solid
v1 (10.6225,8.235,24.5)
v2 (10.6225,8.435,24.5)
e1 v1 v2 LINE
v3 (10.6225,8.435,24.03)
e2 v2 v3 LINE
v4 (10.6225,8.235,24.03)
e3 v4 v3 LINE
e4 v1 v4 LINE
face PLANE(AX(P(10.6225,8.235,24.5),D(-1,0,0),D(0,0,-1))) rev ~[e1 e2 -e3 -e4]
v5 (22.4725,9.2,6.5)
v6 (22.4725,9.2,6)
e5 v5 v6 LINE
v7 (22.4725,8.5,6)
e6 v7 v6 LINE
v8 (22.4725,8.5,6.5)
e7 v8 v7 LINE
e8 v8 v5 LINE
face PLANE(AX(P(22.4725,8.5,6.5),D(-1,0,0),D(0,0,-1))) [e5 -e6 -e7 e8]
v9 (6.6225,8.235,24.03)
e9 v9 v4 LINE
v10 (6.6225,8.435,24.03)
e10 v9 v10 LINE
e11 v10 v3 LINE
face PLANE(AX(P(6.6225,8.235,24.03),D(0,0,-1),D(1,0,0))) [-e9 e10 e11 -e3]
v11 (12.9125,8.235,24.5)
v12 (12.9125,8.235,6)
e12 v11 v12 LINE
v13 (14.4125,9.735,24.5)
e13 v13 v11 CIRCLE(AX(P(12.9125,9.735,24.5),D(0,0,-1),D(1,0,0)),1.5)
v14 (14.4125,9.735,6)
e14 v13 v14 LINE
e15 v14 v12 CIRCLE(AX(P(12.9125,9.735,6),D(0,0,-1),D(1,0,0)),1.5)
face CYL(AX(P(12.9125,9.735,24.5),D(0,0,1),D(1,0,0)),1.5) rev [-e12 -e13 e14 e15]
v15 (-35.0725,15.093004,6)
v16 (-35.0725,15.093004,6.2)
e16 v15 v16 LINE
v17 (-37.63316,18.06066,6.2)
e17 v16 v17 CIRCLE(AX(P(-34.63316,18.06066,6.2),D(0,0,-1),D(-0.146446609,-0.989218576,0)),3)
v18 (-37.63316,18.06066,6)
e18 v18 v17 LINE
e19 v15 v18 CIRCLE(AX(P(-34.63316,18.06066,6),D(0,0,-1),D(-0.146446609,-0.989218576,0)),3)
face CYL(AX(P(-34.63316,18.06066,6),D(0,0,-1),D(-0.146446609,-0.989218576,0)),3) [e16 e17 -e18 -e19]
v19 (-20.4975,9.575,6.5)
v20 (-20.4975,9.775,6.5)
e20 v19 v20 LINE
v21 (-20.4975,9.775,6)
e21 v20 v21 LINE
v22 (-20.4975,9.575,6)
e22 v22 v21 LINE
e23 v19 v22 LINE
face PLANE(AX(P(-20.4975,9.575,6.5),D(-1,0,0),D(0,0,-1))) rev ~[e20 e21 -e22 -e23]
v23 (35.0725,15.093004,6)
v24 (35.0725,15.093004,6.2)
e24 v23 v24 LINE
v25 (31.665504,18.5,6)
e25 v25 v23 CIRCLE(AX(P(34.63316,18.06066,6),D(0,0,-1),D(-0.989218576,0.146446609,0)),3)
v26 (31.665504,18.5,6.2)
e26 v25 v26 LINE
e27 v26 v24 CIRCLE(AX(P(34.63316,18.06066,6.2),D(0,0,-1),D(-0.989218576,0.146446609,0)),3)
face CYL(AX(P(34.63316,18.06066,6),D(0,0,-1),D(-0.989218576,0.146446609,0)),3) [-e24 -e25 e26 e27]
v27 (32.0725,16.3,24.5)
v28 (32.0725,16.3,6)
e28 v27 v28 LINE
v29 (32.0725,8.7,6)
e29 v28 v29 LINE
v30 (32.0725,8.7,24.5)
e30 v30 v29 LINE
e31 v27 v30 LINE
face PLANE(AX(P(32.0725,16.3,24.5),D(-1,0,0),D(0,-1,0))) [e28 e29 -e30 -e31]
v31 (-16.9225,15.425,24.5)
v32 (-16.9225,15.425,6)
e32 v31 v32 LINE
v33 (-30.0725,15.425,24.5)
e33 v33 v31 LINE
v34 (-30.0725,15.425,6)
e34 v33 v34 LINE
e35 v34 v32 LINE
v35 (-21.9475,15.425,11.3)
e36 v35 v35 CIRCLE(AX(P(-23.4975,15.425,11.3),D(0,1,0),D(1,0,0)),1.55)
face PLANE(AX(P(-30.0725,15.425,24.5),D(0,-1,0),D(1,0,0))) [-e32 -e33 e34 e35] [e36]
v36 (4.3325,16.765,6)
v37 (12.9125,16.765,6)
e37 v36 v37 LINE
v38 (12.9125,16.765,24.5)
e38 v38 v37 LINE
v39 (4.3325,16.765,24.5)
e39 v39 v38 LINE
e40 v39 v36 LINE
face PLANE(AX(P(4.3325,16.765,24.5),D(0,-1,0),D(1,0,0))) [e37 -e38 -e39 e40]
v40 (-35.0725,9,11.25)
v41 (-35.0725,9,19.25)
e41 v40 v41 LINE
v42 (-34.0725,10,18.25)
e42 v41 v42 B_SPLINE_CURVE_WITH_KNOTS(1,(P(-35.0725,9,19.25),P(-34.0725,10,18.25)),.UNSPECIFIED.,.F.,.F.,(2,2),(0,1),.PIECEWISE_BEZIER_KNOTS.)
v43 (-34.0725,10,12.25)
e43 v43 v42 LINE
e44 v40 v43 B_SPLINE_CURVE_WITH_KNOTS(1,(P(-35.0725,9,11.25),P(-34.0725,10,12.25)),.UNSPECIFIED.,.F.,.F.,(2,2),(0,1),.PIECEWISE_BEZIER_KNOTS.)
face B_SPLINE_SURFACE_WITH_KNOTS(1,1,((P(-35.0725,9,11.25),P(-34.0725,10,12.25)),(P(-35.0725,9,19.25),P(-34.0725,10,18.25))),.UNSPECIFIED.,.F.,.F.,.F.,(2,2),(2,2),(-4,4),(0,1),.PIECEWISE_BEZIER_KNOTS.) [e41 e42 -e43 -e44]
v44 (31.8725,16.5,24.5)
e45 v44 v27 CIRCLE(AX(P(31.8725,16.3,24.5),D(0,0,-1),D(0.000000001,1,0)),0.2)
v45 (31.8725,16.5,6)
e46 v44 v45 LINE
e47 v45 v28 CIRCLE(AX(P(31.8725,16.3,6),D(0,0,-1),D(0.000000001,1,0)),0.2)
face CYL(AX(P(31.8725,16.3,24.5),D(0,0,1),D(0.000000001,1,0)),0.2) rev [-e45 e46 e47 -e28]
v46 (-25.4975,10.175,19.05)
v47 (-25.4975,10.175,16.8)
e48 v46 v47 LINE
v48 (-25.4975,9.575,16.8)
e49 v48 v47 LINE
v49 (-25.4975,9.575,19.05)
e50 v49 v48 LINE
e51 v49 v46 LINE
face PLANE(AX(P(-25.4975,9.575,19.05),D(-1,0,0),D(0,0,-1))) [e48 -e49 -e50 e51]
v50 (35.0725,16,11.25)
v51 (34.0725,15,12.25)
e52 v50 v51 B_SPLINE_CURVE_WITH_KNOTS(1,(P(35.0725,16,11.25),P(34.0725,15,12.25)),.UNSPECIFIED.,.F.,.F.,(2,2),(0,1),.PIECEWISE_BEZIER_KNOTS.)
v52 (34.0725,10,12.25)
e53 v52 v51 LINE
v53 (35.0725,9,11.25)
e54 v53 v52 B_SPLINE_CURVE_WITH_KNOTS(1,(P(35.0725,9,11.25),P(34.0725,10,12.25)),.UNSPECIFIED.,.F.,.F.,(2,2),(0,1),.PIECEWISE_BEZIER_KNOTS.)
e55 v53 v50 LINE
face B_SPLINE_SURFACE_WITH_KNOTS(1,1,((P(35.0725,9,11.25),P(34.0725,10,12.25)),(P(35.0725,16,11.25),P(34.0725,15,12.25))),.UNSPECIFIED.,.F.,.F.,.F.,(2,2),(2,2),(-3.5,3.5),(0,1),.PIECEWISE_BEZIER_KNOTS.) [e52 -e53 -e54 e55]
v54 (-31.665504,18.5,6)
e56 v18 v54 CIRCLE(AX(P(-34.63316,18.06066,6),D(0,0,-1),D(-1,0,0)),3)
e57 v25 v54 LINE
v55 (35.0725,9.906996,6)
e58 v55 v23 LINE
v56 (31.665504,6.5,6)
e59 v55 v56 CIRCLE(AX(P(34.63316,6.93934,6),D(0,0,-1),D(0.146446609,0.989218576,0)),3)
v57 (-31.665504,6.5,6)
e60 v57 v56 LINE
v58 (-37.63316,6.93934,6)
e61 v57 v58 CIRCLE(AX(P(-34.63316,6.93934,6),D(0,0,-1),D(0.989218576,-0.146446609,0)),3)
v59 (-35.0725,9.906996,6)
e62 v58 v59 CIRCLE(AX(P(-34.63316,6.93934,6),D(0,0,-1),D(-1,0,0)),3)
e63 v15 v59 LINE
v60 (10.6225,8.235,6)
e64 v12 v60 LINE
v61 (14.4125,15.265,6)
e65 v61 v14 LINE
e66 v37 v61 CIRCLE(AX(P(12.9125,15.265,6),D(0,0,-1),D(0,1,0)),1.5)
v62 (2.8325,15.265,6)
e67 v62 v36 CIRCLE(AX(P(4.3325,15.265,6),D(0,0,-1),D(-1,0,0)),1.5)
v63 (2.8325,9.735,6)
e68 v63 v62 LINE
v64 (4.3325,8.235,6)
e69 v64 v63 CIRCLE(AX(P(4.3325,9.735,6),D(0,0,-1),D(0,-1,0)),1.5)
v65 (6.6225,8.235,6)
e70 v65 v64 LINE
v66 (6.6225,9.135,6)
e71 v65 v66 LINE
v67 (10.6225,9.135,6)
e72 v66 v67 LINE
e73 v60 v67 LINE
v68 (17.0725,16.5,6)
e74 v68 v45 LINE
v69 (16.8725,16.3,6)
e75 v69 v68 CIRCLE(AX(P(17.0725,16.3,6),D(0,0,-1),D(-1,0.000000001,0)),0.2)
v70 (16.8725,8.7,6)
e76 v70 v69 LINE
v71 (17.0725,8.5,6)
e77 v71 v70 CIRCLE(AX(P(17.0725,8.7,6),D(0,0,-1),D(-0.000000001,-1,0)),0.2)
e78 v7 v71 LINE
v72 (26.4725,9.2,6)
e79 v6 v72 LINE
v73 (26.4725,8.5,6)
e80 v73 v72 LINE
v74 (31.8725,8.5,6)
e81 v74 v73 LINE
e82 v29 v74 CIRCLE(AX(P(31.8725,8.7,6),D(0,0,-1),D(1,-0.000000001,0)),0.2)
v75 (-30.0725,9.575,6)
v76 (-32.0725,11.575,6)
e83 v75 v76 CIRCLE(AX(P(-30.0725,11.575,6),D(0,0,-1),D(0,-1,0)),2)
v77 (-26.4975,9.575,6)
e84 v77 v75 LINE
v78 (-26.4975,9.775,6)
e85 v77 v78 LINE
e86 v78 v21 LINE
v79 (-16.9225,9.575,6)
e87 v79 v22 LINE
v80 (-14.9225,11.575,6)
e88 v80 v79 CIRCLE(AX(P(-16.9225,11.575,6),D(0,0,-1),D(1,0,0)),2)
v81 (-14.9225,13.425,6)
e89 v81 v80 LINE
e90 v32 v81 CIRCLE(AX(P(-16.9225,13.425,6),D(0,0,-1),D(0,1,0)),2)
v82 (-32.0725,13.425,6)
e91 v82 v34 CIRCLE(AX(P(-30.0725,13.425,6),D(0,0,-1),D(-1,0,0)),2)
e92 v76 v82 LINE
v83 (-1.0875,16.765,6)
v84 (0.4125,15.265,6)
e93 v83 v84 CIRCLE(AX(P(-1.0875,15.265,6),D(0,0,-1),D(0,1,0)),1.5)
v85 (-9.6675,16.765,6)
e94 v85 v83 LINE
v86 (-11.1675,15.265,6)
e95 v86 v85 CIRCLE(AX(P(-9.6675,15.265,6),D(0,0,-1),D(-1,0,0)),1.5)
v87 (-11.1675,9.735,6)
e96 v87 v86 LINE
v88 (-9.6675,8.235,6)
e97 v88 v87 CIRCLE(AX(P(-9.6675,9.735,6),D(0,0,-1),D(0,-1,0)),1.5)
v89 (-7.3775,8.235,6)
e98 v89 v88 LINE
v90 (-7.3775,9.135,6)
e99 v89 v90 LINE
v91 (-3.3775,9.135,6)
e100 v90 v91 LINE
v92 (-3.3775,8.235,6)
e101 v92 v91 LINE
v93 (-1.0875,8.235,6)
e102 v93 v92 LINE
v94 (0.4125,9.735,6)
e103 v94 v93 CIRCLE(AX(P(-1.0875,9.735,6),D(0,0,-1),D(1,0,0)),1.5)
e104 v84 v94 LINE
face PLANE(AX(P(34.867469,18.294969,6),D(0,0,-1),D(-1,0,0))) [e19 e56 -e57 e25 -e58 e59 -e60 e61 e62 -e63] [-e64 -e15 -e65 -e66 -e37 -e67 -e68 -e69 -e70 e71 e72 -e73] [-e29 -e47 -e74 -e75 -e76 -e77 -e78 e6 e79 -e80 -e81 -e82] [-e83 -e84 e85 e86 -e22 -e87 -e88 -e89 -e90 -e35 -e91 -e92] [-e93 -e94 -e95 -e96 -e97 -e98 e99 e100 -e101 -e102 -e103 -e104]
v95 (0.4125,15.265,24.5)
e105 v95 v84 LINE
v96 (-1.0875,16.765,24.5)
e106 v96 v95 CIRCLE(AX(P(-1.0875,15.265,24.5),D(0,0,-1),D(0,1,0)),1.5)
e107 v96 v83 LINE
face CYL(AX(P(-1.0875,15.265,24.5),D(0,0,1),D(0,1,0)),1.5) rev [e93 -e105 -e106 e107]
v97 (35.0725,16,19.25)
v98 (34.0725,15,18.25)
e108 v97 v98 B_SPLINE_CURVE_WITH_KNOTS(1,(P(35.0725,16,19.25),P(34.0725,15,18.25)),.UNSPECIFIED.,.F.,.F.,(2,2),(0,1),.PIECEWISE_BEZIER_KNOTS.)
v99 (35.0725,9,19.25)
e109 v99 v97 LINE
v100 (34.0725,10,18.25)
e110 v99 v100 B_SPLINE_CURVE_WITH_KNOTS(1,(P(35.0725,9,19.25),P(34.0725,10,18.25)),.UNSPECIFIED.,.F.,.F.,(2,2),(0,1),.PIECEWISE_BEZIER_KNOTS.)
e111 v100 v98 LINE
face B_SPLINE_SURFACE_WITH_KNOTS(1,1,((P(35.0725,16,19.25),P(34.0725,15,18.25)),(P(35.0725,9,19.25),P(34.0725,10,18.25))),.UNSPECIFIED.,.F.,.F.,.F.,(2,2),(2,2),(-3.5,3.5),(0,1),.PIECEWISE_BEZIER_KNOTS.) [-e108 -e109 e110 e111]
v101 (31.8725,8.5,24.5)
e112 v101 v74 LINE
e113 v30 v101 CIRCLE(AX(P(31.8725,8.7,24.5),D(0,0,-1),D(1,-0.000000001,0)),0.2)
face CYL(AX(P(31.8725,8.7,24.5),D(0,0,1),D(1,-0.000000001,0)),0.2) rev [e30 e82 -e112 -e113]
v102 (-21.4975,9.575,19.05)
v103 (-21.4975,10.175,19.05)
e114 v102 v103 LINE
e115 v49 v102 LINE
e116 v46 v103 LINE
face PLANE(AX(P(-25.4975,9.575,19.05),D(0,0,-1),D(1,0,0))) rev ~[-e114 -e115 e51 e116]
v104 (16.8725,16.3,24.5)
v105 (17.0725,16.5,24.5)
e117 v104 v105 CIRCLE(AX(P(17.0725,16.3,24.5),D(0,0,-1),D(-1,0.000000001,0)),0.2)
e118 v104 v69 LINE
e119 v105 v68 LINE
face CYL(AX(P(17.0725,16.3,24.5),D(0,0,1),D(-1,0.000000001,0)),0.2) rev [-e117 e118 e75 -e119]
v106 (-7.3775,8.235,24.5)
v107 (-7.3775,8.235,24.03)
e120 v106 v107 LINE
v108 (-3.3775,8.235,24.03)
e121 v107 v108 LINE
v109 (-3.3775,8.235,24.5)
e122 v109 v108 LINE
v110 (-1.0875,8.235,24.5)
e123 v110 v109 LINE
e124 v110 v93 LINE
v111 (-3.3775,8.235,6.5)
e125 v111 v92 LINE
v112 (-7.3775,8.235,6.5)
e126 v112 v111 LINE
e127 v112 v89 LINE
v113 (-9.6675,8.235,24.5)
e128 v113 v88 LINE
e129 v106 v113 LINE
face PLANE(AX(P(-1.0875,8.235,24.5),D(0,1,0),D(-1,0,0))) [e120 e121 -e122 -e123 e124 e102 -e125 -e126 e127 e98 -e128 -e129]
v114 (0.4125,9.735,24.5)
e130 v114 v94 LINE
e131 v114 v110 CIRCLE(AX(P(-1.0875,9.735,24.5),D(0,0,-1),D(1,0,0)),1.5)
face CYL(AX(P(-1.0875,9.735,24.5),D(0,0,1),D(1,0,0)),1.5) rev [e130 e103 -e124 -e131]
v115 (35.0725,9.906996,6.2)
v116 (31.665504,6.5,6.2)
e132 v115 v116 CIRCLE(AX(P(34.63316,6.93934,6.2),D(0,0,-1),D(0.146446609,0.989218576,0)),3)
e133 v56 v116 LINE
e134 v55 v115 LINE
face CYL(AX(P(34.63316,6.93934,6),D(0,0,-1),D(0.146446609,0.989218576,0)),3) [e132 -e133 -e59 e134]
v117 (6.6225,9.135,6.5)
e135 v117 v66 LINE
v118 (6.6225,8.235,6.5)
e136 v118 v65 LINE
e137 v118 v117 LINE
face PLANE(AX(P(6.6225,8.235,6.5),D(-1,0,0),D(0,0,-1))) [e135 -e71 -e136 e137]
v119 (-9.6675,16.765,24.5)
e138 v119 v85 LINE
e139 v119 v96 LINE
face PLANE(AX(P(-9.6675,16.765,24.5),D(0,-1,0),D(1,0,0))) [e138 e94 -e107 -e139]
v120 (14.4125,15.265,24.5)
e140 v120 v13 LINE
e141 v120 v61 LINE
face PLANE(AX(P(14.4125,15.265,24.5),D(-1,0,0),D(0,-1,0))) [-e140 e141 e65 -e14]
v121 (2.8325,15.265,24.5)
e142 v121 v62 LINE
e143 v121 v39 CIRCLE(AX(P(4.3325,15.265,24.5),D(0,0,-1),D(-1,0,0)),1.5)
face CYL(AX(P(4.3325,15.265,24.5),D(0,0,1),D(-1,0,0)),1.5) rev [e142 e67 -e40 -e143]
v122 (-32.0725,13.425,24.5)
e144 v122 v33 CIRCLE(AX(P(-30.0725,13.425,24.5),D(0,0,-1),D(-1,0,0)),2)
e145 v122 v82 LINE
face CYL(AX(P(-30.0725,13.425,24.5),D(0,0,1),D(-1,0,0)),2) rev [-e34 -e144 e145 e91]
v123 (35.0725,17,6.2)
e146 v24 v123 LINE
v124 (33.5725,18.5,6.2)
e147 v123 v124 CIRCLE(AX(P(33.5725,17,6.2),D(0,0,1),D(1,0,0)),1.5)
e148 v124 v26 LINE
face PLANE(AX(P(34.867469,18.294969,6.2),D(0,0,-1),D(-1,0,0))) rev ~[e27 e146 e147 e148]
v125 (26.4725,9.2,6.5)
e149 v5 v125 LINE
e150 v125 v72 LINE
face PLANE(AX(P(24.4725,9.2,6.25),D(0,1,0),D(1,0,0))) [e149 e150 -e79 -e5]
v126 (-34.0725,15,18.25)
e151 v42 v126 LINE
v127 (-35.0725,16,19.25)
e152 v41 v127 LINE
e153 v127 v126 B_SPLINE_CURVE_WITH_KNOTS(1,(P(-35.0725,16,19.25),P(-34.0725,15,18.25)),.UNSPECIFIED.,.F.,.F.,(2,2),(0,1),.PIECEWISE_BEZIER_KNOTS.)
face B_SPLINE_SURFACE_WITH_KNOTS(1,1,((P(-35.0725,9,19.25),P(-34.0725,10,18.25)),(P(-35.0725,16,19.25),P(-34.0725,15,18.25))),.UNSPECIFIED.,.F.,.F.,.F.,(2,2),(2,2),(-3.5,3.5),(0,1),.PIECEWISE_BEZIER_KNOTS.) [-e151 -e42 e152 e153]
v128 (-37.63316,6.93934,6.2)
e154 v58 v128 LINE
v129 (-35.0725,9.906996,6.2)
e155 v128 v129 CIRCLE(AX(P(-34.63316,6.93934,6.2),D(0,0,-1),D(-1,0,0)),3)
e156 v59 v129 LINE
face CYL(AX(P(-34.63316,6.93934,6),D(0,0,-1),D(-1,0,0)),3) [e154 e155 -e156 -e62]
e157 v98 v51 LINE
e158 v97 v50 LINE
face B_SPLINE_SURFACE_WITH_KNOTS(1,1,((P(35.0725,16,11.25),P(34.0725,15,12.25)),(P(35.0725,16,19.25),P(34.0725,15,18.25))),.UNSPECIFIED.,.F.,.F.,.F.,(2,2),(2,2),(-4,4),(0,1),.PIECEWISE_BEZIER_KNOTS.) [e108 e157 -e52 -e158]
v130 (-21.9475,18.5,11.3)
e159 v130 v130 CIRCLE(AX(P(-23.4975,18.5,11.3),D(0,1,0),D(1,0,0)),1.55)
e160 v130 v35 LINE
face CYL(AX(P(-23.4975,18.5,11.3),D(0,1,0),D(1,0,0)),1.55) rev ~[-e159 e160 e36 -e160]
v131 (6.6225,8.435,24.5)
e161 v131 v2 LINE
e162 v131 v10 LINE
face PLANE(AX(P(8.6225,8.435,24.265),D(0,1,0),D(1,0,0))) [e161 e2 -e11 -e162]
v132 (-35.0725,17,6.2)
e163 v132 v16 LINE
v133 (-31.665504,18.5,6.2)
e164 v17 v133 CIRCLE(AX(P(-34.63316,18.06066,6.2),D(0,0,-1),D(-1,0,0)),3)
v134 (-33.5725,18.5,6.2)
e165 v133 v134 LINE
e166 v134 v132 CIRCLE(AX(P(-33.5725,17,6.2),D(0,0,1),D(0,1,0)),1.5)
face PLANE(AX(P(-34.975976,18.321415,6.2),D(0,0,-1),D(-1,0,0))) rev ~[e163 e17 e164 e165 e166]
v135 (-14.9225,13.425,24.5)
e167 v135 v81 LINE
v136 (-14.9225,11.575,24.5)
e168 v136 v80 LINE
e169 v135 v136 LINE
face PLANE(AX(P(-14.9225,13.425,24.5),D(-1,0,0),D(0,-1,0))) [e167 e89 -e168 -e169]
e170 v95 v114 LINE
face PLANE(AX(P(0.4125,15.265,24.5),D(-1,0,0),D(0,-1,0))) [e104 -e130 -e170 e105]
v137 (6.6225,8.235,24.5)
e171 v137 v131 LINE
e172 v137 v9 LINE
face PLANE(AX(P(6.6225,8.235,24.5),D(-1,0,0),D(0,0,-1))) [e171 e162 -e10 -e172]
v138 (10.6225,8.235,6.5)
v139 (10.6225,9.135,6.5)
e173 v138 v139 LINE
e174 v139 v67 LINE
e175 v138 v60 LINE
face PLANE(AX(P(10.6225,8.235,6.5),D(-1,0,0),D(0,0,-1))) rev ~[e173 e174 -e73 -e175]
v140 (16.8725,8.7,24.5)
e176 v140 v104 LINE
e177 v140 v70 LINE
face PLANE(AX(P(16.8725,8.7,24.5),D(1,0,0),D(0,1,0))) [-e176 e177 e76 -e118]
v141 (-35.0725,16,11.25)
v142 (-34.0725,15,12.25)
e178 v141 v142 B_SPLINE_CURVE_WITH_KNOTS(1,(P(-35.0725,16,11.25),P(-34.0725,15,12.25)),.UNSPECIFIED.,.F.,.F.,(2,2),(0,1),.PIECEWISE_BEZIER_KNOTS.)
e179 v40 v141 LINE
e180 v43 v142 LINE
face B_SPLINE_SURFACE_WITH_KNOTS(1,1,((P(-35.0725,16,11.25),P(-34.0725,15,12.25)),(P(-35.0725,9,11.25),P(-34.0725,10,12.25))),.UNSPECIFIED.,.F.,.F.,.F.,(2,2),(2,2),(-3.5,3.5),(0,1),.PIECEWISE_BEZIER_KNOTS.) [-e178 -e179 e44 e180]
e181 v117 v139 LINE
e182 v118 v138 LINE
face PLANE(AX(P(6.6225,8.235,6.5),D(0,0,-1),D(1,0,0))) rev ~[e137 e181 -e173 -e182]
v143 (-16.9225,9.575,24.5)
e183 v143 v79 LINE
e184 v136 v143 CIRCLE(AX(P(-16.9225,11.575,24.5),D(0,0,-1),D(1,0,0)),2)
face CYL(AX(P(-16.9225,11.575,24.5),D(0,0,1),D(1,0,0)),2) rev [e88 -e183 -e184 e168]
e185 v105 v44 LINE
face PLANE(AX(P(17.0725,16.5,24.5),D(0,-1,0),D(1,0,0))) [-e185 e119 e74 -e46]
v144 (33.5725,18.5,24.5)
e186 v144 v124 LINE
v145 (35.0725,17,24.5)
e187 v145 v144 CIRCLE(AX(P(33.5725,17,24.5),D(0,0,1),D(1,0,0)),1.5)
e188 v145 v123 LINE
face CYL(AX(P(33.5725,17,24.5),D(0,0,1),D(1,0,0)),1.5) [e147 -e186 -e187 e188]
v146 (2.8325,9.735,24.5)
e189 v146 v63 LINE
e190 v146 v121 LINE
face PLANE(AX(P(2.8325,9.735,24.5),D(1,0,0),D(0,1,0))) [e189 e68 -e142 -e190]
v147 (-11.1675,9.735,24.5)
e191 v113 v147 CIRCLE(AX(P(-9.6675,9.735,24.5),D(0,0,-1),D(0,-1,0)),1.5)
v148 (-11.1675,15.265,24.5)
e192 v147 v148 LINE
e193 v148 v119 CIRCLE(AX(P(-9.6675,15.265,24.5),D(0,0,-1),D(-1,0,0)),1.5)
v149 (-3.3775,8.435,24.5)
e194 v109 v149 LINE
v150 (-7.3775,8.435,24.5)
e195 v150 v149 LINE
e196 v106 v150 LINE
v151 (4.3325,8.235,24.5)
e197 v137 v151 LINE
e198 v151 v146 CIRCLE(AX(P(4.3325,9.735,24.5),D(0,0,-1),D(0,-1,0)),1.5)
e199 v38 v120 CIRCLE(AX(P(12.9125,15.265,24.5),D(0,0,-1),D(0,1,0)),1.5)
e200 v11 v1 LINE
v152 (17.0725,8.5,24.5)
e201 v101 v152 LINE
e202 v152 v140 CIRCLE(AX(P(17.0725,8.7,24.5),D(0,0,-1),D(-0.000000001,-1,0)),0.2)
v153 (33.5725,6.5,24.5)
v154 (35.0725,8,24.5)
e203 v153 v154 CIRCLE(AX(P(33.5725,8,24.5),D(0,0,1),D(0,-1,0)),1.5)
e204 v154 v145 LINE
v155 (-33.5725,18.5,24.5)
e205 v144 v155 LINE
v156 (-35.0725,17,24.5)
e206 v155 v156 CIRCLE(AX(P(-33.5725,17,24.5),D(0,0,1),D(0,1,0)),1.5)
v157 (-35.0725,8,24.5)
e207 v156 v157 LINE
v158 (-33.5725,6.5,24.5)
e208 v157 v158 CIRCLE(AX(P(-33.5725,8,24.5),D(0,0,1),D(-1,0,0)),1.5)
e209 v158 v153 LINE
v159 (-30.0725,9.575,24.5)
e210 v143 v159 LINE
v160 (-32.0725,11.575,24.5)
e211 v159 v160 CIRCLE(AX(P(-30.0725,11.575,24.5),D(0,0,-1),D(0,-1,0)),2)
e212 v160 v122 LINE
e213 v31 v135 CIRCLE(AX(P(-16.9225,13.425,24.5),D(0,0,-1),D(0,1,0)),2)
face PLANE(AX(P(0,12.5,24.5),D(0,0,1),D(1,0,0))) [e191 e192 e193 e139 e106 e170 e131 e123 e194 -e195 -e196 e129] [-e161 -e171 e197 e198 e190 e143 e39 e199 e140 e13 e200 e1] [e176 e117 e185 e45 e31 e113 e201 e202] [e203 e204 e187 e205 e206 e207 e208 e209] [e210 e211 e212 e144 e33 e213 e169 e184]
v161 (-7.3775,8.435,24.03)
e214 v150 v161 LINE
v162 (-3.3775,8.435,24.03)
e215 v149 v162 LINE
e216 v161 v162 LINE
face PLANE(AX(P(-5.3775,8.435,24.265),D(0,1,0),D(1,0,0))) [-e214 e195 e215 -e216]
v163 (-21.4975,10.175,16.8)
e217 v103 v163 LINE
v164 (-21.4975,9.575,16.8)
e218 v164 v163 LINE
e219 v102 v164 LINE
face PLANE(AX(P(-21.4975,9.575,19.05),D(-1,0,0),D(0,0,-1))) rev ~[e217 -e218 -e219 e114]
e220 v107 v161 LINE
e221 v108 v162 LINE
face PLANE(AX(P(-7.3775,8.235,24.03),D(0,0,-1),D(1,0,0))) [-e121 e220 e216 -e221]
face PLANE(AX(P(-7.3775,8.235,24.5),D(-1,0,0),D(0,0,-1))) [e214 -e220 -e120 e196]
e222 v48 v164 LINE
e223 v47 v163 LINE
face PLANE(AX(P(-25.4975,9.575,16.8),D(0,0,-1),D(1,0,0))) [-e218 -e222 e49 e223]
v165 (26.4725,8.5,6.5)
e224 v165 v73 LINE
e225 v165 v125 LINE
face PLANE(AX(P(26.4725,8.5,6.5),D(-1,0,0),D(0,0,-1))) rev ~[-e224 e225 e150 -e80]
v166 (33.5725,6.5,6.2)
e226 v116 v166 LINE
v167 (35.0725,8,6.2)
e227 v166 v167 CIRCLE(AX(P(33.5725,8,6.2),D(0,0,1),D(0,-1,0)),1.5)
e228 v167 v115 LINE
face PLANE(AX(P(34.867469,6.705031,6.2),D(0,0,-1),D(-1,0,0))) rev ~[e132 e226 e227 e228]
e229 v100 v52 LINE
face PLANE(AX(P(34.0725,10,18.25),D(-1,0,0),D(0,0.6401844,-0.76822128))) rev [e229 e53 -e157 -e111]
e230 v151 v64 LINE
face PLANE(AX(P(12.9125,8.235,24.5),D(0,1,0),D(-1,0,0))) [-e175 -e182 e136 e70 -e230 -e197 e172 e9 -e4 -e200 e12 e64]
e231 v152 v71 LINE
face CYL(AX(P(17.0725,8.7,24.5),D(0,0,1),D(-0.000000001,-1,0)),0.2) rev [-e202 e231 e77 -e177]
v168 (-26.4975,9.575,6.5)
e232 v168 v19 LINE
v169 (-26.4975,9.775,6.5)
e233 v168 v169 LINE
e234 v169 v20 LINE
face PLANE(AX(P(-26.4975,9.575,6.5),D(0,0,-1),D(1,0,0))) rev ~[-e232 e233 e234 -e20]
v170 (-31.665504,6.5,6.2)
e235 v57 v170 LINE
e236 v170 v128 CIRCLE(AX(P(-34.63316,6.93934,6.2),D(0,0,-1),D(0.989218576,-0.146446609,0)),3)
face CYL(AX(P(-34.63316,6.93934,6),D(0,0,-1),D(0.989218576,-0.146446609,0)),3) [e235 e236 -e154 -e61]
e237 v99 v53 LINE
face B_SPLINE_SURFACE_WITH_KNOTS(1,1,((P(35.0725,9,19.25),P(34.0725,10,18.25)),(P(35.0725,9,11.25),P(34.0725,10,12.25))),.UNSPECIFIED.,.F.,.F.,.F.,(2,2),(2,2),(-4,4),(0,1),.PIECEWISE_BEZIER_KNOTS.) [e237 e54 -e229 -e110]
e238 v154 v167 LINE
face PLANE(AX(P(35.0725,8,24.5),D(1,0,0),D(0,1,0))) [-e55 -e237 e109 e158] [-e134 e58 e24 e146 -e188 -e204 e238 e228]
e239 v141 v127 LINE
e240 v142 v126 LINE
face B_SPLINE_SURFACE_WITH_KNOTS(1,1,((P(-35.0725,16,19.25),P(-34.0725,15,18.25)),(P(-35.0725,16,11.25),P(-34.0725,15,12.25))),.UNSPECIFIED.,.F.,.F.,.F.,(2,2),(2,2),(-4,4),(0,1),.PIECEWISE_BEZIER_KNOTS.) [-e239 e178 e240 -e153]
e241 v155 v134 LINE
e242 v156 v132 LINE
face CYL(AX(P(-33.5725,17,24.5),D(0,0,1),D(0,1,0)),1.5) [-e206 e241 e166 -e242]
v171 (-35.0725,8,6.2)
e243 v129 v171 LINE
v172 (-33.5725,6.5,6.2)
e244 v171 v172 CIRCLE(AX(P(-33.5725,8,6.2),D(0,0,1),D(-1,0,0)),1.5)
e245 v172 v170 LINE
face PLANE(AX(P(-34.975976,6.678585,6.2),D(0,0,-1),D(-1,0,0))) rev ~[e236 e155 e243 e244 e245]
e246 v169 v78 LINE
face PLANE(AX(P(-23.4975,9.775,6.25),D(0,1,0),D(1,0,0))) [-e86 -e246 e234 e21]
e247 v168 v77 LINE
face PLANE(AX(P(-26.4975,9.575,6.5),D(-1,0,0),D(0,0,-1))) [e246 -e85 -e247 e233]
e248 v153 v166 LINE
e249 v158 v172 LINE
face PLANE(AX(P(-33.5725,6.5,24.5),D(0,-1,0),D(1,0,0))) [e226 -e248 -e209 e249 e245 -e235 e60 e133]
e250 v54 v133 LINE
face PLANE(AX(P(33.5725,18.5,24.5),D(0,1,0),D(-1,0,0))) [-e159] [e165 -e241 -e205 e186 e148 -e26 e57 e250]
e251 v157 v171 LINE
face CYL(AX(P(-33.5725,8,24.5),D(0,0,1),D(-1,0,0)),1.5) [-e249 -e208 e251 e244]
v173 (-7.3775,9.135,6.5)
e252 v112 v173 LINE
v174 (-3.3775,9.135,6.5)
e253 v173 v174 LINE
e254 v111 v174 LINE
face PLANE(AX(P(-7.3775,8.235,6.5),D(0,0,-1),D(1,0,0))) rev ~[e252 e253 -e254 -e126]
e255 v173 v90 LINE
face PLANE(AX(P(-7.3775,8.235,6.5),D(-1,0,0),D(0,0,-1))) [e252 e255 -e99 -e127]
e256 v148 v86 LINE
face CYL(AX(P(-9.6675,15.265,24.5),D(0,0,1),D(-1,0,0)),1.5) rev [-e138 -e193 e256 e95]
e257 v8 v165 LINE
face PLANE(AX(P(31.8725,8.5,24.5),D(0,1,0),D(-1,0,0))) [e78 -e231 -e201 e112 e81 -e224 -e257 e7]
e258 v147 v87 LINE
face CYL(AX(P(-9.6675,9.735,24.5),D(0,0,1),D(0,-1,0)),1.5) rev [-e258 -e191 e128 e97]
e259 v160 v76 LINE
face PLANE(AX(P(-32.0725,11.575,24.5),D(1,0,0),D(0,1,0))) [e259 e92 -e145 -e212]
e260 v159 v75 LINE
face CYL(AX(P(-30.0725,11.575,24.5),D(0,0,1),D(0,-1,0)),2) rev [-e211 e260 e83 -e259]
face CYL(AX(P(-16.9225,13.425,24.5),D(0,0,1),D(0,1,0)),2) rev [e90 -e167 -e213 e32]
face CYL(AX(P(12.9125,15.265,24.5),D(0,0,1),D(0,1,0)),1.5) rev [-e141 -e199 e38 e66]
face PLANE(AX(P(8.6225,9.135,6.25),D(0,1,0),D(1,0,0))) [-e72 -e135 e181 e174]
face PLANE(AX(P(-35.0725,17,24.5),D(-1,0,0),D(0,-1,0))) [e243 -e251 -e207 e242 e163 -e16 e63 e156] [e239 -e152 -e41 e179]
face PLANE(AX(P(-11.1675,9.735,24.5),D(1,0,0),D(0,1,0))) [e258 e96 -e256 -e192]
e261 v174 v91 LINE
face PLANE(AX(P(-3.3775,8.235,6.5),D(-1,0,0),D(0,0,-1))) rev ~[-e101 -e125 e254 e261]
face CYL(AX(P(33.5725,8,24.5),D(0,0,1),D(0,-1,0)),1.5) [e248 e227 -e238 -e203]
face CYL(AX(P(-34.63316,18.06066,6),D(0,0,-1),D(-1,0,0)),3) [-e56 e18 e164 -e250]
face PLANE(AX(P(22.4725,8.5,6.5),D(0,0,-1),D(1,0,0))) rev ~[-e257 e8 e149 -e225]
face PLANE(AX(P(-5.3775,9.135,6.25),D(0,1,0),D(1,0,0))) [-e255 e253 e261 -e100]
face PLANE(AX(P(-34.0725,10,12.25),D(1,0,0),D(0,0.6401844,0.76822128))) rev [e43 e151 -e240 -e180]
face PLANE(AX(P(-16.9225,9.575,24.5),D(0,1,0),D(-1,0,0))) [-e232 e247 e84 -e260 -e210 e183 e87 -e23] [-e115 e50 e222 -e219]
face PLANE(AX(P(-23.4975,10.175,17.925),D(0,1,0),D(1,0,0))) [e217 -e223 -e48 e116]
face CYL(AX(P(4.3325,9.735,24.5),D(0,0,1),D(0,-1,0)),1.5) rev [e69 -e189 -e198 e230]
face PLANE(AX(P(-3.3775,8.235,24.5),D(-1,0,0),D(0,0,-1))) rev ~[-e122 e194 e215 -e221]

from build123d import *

# Parameters (mm, degrees)
F2_DEPTH  = 18.5
F3_R      = 1.55
F4_DEPTH  = 3.075
F5_W      = 6
F5_H      = 0.5
F6_DEPTH  = 0.2
F5_W_2    = 4
F5_H_2    = 2.25
F7_DEPTH  = 0.6
F8_W      = 4
F8_H      = 0.5
F9_DEPTH  = 0.9
F8_H_2    = 0.47
F10_DEPTH = 0.2
F11_W     = 4
F11_H     = 0.5
F12_DEPTH = 0.9
F11_H_2   = 0.47
F13_DEPTH = 0.2
F14_W     = 4
F14_H     = 0.5
F15_DEPTH = 0.7
F16_W     = 8
F16_H     = 7
F17_DEPTH = 1
F17_TAPER = 45
F18_W     = 8
F18_H     = 7
F19_DEPTH = 1
F19_TAPER = 45
F22_DEPTH = 0.2
F23_ANGLE = 90


with BuildPart() as f2:
    # F1 (on Front) → F2 (new body)
    with BuildSketch(Plane.XZ):
        with BuildLine():
            Line((-33.5725, -6), (33.5725, -6))
            ThreePointArc((33.5725, -6), (34.6331601718, -5.5606601718), (35.0725, -4.5))
            Line((35.0725, -4.5), (35.0725, 4.5))
            ThreePointArc((35.0725, 4.5), (34.6331601718, 5.5606601718), (33.5725, 6))
            Line((33.5725, 6), (-33.5725, 6))
            ThreePointArc((-33.5725, 6), (-34.6331601718, 5.5606601718), (-35.0725, 4.5))
            Line((-35.0725, 4.5), (-35.0725, -4.5))
            ThreePointArc((-35.0725, -4.5), (-34.6331601718, -5.5606601718), (-33.5725, -6))
        make_face()
        with BuildLine():
            ThreePointArc((-14.9225, -0.925), (-15.5082864376, -2.3392135624), (-16.9225, -2.925))
            Line((-16.9225, -2.925), (-30.0725, -2.925))
            ThreePointArc((-30.0725, -2.925), (-31.4867135624, -2.3392135624), (-32.0725, -0.925))
            Line((-32.0725, -0.925), (-32.0725, 0.925))
            ThreePointArc((-32.0725, 0.925), (-31.4867135624, 2.3392135624), (-30.0725, 2.925))
            Line((-30.0725, 2.925), (-16.9225, 2.925))
            ThreePointArc((-16.9225, 2.925), (-15.5082864376, 2.3392135624), (-14.9225, 0.925))
            Line((-14.9225, 0.925), (-14.9225, -0.925))
        make_face(mode=Mode.SUBTRACT)
        with BuildLine():
            Line((-9.6675, 4.265), (-1.0875, 4.265))
            ThreePointArc((-1.0875, 4.265), (-0.0268398282, 3.8256601718), (0.4125, 2.765))
            Line((0.4125, 2.765), (0.4125, -2.765))
            ThreePointArc((0.4125, -2.765), (-0.0268398282, -3.8256601718), (-1.0875, -4.265))
            Line((-1.0875, -4.265), (-9.6675, -4.265))
            ThreePointArc((-9.6675, -4.265), (-10.7281601718, -3.8256601718), (-11.1675, -2.765))
            Line((-11.1675, -2.765), (-11.1675, 2.765))
            ThreePointArc((-11.1675, 2.765), (-10.7281601718, 3.8256601718), (-9.6675, 4.265))
        make_face(mode=Mode.SUBTRACT)
        with BuildLine():
            Line((4.3325, 4.265), (12.9125, 4.265))
            ThreePointArc((12.9125, 4.265), (13.9731601718, 3.8256601718), (14.4125, 2.765))
            Line((14.4125, 2.765), (14.4125, -2.765))
            ThreePointArc((14.4125, -2.765), (13.9731601718, -3.8256601718), (12.9125, -4.265))
            Line((12.9125, -4.265), (4.3325, -4.265))
            ThreePointArc((4.3325, -4.265), (3.2718398282, -3.8256601718), (2.8325, -2.765))
            Line((2.8325, -2.765), (2.8325, 2.765))
            ThreePointArc((2.8325, 2.765), (3.2718398282, 3.8256601718), (4.3325, 4.265))
        make_face(mode=Mode.SUBTRACT)
        with BuildLine():
            ThreePointArc((32.0725, -3.8), (32.0139213562, -3.9414213562), (31.8725, -4))
            Line((31.8725, -4), (17.0725, -4))
            ThreePointArc((17.0725, -4), (16.9310786438, -3.9414213562), (16.8725, -3.8))
            Line((16.8725, -3.8), (16.8725, 3.8))
            ThreePointArc((16.8725, 3.8), (16.9310786438, 3.9414213562), (17.0725, 4))
            Line((17.0725, 4), (31.8725, 4))
            ThreePointArc((31.8725, 4), (32.0139213562, 3.9414213562), (32.0725, 3.8))
            Line((32.0725, 3.8), (32.0725, -3.8))
        make_face(mode=Mode.SUBTRACT)
    extrude(amount=-F2_DEPTH)

    # F3 (on face) → F4 (cut, through all)
    with BuildSketch(Plane.XY.offset(6)):
        with Locations((-23.4975, 13.2)):
            Circle(F3_R)
    extrude(amount=-F4_DEPTH, mode=Mode.SUBTRACT)

    # F5 (on face) → F6 (join)
    with BuildSketch(Plane.XY.offset(-2.925)):
        with Locations((-23.4975, 18.25)):
            Rectangle(F5_W, F5_H)
    extrude(amount=F6_DEPTH)

    # F5 (on face) → F7 (join)
    with BuildSketch(Plane.XY.offset(-2.925)):
        with Locations((-23.4975, 6.575)):
            Rectangle(F5_W_2, F5_H_2)
    extrude(amount=F7_DEPTH)

    # F8 (on face) → F9 (join)
    with BuildSketch(Plane.XY.offset(-4.265)):
        with Locations((-5.3775, 18.25)):
            Rectangle(F8_W, F8_H)
    extrude(amount=F9_DEPTH)

    # F8 (on face) → F10 (join)
    with BuildSketch(Plane.XY.offset(-4.265)):
        with Locations((-5.3775, 0.235)):
            Rectangle(F8_W, F8_H_2)
    extrude(amount=F10_DEPTH)

    # F11 (on face) → F12 (join)
    with BuildSketch(Plane.XY.offset(-4.265)):
        with Locations((8.6225, 18.25)):
            Rectangle(F11_W, F11_H)
    extrude(amount=F12_DEPTH)

    # F11 (on face) → F13 (join)
    with BuildSketch(Plane.XY.offset(-4.265)):
        with Locations((8.6225, 0.235)):
            Rectangle(F11_W, F11_H_2)
    extrude(amount=F13_DEPTH)

    # F14 (on face) → F15 (join)
    with BuildSketch(Plane.XY.offset(-4)):
        with Locations((24.4725, 18.25)):
            Rectangle(F14_W, F14_H)
    extrude(amount=F15_DEPTH)

    # F16 (on face) → F17 (cut)
    with BuildSketch(Plane.YZ.offset(35.0725)):
        with Locations((9.25, 0)):
            Rectangle(F16_W, F16_H)
    extrude(amount=-F17_DEPTH, taper=F17_TAPER, mode=Mode.SUBTRACT)

    # F18 (on face) → F19 (cut)
    with BuildSketch(Plane(origin=(-35.0725, 0, 0), x_dir=(0, -1, 0), z_dir=(-1, 0, 0))):
        with Locations((-9.25, 0)):
            Rectangle(F18_W, F18_H)
    extrude(amount=-F19_DEPTH, taper=F19_TAPER, mode=Mode.SUBTRACT)

    # F21 (on face) → F22 (join)
    with BuildSketch(Plane(origin=(0, 18.5, 0), x_dir=(-1, 0, 0), z_dir=(0, 1, 0))):
        with BuildLine():
            Line((-33.5725, 6), (-31.6655044446, 6))
            ThreePointArc((-31.6655044446, 6), (-36.7544805153, 7.6819805153), (-35.0725, 2.5930044446))
            Line((-35.0725, 2.5930044446), (-35.0725, 4.5))
            ThreePointArc((-35.0725, 4.5), (-34.6331601718, 5.5606601718), (-33.5725, 6))
        make_face()
        with BuildLine():
            Line((-35.0725, -4.5), (-35.0725, -2.5930044446))
            ThreePointArc((-35.0725, -2.5930044446), (-36.7544805153, -7.6819805153), (-31.6655044446, -6))
            Line((-31.6655044446, -6), (-33.5725, -6))
            ThreePointArc((-33.5725, -6), (-34.6331601718, -5.5606601718), (-35.0725, -4.5))
        make_face()
        with BuildLine():
            ThreePointArc((37.6331601718, 5.5606601718), (34.8534245792, 8.5525631767), (31.6655044446, 6))
            Line((31.6655044446, 6), (33.5725, 6))
            ThreePointArc((33.5725, 6), (34.6331601718, 5.5606601718), (35.0725, 4.5))
            Line((35.0725, 4.5), (35.0725, 2.5930044446))
            ThreePointArc((35.0725, 2.5930044446), (36.9045055313, 3.6008157245), (37.6331601718, 5.5606601718))
        make_face()
        with BuildLine():
            ThreePointArc((37.6331601718, -5.5606601718), (36.9045055313, -3.6008157245), (35.0725, -2.5930044446))
            Line((35.0725, -2.5930044446), (35.0725, -4.5))
            ThreePointArc((35.0725, -4.5), (34.6331601718, -5.5606601718), (33.5725, -6))
            Line((33.5725, -6), (31.6655044446, -6))
            ThreePointArc((31.6655044446, -6), (34.8534245792, -8.5525631767), (37.6331601718, -5.5606601718))
        make_face()
    extrude(amount=-F22_DEPTH)


with BuildPart() as f2_1:
    # F23: moved
    add(f2.part.rotate(Axis((0, 18.5, 6), (-1, 0, 0)), F23_ANGLE))


solid = f2_1.part
